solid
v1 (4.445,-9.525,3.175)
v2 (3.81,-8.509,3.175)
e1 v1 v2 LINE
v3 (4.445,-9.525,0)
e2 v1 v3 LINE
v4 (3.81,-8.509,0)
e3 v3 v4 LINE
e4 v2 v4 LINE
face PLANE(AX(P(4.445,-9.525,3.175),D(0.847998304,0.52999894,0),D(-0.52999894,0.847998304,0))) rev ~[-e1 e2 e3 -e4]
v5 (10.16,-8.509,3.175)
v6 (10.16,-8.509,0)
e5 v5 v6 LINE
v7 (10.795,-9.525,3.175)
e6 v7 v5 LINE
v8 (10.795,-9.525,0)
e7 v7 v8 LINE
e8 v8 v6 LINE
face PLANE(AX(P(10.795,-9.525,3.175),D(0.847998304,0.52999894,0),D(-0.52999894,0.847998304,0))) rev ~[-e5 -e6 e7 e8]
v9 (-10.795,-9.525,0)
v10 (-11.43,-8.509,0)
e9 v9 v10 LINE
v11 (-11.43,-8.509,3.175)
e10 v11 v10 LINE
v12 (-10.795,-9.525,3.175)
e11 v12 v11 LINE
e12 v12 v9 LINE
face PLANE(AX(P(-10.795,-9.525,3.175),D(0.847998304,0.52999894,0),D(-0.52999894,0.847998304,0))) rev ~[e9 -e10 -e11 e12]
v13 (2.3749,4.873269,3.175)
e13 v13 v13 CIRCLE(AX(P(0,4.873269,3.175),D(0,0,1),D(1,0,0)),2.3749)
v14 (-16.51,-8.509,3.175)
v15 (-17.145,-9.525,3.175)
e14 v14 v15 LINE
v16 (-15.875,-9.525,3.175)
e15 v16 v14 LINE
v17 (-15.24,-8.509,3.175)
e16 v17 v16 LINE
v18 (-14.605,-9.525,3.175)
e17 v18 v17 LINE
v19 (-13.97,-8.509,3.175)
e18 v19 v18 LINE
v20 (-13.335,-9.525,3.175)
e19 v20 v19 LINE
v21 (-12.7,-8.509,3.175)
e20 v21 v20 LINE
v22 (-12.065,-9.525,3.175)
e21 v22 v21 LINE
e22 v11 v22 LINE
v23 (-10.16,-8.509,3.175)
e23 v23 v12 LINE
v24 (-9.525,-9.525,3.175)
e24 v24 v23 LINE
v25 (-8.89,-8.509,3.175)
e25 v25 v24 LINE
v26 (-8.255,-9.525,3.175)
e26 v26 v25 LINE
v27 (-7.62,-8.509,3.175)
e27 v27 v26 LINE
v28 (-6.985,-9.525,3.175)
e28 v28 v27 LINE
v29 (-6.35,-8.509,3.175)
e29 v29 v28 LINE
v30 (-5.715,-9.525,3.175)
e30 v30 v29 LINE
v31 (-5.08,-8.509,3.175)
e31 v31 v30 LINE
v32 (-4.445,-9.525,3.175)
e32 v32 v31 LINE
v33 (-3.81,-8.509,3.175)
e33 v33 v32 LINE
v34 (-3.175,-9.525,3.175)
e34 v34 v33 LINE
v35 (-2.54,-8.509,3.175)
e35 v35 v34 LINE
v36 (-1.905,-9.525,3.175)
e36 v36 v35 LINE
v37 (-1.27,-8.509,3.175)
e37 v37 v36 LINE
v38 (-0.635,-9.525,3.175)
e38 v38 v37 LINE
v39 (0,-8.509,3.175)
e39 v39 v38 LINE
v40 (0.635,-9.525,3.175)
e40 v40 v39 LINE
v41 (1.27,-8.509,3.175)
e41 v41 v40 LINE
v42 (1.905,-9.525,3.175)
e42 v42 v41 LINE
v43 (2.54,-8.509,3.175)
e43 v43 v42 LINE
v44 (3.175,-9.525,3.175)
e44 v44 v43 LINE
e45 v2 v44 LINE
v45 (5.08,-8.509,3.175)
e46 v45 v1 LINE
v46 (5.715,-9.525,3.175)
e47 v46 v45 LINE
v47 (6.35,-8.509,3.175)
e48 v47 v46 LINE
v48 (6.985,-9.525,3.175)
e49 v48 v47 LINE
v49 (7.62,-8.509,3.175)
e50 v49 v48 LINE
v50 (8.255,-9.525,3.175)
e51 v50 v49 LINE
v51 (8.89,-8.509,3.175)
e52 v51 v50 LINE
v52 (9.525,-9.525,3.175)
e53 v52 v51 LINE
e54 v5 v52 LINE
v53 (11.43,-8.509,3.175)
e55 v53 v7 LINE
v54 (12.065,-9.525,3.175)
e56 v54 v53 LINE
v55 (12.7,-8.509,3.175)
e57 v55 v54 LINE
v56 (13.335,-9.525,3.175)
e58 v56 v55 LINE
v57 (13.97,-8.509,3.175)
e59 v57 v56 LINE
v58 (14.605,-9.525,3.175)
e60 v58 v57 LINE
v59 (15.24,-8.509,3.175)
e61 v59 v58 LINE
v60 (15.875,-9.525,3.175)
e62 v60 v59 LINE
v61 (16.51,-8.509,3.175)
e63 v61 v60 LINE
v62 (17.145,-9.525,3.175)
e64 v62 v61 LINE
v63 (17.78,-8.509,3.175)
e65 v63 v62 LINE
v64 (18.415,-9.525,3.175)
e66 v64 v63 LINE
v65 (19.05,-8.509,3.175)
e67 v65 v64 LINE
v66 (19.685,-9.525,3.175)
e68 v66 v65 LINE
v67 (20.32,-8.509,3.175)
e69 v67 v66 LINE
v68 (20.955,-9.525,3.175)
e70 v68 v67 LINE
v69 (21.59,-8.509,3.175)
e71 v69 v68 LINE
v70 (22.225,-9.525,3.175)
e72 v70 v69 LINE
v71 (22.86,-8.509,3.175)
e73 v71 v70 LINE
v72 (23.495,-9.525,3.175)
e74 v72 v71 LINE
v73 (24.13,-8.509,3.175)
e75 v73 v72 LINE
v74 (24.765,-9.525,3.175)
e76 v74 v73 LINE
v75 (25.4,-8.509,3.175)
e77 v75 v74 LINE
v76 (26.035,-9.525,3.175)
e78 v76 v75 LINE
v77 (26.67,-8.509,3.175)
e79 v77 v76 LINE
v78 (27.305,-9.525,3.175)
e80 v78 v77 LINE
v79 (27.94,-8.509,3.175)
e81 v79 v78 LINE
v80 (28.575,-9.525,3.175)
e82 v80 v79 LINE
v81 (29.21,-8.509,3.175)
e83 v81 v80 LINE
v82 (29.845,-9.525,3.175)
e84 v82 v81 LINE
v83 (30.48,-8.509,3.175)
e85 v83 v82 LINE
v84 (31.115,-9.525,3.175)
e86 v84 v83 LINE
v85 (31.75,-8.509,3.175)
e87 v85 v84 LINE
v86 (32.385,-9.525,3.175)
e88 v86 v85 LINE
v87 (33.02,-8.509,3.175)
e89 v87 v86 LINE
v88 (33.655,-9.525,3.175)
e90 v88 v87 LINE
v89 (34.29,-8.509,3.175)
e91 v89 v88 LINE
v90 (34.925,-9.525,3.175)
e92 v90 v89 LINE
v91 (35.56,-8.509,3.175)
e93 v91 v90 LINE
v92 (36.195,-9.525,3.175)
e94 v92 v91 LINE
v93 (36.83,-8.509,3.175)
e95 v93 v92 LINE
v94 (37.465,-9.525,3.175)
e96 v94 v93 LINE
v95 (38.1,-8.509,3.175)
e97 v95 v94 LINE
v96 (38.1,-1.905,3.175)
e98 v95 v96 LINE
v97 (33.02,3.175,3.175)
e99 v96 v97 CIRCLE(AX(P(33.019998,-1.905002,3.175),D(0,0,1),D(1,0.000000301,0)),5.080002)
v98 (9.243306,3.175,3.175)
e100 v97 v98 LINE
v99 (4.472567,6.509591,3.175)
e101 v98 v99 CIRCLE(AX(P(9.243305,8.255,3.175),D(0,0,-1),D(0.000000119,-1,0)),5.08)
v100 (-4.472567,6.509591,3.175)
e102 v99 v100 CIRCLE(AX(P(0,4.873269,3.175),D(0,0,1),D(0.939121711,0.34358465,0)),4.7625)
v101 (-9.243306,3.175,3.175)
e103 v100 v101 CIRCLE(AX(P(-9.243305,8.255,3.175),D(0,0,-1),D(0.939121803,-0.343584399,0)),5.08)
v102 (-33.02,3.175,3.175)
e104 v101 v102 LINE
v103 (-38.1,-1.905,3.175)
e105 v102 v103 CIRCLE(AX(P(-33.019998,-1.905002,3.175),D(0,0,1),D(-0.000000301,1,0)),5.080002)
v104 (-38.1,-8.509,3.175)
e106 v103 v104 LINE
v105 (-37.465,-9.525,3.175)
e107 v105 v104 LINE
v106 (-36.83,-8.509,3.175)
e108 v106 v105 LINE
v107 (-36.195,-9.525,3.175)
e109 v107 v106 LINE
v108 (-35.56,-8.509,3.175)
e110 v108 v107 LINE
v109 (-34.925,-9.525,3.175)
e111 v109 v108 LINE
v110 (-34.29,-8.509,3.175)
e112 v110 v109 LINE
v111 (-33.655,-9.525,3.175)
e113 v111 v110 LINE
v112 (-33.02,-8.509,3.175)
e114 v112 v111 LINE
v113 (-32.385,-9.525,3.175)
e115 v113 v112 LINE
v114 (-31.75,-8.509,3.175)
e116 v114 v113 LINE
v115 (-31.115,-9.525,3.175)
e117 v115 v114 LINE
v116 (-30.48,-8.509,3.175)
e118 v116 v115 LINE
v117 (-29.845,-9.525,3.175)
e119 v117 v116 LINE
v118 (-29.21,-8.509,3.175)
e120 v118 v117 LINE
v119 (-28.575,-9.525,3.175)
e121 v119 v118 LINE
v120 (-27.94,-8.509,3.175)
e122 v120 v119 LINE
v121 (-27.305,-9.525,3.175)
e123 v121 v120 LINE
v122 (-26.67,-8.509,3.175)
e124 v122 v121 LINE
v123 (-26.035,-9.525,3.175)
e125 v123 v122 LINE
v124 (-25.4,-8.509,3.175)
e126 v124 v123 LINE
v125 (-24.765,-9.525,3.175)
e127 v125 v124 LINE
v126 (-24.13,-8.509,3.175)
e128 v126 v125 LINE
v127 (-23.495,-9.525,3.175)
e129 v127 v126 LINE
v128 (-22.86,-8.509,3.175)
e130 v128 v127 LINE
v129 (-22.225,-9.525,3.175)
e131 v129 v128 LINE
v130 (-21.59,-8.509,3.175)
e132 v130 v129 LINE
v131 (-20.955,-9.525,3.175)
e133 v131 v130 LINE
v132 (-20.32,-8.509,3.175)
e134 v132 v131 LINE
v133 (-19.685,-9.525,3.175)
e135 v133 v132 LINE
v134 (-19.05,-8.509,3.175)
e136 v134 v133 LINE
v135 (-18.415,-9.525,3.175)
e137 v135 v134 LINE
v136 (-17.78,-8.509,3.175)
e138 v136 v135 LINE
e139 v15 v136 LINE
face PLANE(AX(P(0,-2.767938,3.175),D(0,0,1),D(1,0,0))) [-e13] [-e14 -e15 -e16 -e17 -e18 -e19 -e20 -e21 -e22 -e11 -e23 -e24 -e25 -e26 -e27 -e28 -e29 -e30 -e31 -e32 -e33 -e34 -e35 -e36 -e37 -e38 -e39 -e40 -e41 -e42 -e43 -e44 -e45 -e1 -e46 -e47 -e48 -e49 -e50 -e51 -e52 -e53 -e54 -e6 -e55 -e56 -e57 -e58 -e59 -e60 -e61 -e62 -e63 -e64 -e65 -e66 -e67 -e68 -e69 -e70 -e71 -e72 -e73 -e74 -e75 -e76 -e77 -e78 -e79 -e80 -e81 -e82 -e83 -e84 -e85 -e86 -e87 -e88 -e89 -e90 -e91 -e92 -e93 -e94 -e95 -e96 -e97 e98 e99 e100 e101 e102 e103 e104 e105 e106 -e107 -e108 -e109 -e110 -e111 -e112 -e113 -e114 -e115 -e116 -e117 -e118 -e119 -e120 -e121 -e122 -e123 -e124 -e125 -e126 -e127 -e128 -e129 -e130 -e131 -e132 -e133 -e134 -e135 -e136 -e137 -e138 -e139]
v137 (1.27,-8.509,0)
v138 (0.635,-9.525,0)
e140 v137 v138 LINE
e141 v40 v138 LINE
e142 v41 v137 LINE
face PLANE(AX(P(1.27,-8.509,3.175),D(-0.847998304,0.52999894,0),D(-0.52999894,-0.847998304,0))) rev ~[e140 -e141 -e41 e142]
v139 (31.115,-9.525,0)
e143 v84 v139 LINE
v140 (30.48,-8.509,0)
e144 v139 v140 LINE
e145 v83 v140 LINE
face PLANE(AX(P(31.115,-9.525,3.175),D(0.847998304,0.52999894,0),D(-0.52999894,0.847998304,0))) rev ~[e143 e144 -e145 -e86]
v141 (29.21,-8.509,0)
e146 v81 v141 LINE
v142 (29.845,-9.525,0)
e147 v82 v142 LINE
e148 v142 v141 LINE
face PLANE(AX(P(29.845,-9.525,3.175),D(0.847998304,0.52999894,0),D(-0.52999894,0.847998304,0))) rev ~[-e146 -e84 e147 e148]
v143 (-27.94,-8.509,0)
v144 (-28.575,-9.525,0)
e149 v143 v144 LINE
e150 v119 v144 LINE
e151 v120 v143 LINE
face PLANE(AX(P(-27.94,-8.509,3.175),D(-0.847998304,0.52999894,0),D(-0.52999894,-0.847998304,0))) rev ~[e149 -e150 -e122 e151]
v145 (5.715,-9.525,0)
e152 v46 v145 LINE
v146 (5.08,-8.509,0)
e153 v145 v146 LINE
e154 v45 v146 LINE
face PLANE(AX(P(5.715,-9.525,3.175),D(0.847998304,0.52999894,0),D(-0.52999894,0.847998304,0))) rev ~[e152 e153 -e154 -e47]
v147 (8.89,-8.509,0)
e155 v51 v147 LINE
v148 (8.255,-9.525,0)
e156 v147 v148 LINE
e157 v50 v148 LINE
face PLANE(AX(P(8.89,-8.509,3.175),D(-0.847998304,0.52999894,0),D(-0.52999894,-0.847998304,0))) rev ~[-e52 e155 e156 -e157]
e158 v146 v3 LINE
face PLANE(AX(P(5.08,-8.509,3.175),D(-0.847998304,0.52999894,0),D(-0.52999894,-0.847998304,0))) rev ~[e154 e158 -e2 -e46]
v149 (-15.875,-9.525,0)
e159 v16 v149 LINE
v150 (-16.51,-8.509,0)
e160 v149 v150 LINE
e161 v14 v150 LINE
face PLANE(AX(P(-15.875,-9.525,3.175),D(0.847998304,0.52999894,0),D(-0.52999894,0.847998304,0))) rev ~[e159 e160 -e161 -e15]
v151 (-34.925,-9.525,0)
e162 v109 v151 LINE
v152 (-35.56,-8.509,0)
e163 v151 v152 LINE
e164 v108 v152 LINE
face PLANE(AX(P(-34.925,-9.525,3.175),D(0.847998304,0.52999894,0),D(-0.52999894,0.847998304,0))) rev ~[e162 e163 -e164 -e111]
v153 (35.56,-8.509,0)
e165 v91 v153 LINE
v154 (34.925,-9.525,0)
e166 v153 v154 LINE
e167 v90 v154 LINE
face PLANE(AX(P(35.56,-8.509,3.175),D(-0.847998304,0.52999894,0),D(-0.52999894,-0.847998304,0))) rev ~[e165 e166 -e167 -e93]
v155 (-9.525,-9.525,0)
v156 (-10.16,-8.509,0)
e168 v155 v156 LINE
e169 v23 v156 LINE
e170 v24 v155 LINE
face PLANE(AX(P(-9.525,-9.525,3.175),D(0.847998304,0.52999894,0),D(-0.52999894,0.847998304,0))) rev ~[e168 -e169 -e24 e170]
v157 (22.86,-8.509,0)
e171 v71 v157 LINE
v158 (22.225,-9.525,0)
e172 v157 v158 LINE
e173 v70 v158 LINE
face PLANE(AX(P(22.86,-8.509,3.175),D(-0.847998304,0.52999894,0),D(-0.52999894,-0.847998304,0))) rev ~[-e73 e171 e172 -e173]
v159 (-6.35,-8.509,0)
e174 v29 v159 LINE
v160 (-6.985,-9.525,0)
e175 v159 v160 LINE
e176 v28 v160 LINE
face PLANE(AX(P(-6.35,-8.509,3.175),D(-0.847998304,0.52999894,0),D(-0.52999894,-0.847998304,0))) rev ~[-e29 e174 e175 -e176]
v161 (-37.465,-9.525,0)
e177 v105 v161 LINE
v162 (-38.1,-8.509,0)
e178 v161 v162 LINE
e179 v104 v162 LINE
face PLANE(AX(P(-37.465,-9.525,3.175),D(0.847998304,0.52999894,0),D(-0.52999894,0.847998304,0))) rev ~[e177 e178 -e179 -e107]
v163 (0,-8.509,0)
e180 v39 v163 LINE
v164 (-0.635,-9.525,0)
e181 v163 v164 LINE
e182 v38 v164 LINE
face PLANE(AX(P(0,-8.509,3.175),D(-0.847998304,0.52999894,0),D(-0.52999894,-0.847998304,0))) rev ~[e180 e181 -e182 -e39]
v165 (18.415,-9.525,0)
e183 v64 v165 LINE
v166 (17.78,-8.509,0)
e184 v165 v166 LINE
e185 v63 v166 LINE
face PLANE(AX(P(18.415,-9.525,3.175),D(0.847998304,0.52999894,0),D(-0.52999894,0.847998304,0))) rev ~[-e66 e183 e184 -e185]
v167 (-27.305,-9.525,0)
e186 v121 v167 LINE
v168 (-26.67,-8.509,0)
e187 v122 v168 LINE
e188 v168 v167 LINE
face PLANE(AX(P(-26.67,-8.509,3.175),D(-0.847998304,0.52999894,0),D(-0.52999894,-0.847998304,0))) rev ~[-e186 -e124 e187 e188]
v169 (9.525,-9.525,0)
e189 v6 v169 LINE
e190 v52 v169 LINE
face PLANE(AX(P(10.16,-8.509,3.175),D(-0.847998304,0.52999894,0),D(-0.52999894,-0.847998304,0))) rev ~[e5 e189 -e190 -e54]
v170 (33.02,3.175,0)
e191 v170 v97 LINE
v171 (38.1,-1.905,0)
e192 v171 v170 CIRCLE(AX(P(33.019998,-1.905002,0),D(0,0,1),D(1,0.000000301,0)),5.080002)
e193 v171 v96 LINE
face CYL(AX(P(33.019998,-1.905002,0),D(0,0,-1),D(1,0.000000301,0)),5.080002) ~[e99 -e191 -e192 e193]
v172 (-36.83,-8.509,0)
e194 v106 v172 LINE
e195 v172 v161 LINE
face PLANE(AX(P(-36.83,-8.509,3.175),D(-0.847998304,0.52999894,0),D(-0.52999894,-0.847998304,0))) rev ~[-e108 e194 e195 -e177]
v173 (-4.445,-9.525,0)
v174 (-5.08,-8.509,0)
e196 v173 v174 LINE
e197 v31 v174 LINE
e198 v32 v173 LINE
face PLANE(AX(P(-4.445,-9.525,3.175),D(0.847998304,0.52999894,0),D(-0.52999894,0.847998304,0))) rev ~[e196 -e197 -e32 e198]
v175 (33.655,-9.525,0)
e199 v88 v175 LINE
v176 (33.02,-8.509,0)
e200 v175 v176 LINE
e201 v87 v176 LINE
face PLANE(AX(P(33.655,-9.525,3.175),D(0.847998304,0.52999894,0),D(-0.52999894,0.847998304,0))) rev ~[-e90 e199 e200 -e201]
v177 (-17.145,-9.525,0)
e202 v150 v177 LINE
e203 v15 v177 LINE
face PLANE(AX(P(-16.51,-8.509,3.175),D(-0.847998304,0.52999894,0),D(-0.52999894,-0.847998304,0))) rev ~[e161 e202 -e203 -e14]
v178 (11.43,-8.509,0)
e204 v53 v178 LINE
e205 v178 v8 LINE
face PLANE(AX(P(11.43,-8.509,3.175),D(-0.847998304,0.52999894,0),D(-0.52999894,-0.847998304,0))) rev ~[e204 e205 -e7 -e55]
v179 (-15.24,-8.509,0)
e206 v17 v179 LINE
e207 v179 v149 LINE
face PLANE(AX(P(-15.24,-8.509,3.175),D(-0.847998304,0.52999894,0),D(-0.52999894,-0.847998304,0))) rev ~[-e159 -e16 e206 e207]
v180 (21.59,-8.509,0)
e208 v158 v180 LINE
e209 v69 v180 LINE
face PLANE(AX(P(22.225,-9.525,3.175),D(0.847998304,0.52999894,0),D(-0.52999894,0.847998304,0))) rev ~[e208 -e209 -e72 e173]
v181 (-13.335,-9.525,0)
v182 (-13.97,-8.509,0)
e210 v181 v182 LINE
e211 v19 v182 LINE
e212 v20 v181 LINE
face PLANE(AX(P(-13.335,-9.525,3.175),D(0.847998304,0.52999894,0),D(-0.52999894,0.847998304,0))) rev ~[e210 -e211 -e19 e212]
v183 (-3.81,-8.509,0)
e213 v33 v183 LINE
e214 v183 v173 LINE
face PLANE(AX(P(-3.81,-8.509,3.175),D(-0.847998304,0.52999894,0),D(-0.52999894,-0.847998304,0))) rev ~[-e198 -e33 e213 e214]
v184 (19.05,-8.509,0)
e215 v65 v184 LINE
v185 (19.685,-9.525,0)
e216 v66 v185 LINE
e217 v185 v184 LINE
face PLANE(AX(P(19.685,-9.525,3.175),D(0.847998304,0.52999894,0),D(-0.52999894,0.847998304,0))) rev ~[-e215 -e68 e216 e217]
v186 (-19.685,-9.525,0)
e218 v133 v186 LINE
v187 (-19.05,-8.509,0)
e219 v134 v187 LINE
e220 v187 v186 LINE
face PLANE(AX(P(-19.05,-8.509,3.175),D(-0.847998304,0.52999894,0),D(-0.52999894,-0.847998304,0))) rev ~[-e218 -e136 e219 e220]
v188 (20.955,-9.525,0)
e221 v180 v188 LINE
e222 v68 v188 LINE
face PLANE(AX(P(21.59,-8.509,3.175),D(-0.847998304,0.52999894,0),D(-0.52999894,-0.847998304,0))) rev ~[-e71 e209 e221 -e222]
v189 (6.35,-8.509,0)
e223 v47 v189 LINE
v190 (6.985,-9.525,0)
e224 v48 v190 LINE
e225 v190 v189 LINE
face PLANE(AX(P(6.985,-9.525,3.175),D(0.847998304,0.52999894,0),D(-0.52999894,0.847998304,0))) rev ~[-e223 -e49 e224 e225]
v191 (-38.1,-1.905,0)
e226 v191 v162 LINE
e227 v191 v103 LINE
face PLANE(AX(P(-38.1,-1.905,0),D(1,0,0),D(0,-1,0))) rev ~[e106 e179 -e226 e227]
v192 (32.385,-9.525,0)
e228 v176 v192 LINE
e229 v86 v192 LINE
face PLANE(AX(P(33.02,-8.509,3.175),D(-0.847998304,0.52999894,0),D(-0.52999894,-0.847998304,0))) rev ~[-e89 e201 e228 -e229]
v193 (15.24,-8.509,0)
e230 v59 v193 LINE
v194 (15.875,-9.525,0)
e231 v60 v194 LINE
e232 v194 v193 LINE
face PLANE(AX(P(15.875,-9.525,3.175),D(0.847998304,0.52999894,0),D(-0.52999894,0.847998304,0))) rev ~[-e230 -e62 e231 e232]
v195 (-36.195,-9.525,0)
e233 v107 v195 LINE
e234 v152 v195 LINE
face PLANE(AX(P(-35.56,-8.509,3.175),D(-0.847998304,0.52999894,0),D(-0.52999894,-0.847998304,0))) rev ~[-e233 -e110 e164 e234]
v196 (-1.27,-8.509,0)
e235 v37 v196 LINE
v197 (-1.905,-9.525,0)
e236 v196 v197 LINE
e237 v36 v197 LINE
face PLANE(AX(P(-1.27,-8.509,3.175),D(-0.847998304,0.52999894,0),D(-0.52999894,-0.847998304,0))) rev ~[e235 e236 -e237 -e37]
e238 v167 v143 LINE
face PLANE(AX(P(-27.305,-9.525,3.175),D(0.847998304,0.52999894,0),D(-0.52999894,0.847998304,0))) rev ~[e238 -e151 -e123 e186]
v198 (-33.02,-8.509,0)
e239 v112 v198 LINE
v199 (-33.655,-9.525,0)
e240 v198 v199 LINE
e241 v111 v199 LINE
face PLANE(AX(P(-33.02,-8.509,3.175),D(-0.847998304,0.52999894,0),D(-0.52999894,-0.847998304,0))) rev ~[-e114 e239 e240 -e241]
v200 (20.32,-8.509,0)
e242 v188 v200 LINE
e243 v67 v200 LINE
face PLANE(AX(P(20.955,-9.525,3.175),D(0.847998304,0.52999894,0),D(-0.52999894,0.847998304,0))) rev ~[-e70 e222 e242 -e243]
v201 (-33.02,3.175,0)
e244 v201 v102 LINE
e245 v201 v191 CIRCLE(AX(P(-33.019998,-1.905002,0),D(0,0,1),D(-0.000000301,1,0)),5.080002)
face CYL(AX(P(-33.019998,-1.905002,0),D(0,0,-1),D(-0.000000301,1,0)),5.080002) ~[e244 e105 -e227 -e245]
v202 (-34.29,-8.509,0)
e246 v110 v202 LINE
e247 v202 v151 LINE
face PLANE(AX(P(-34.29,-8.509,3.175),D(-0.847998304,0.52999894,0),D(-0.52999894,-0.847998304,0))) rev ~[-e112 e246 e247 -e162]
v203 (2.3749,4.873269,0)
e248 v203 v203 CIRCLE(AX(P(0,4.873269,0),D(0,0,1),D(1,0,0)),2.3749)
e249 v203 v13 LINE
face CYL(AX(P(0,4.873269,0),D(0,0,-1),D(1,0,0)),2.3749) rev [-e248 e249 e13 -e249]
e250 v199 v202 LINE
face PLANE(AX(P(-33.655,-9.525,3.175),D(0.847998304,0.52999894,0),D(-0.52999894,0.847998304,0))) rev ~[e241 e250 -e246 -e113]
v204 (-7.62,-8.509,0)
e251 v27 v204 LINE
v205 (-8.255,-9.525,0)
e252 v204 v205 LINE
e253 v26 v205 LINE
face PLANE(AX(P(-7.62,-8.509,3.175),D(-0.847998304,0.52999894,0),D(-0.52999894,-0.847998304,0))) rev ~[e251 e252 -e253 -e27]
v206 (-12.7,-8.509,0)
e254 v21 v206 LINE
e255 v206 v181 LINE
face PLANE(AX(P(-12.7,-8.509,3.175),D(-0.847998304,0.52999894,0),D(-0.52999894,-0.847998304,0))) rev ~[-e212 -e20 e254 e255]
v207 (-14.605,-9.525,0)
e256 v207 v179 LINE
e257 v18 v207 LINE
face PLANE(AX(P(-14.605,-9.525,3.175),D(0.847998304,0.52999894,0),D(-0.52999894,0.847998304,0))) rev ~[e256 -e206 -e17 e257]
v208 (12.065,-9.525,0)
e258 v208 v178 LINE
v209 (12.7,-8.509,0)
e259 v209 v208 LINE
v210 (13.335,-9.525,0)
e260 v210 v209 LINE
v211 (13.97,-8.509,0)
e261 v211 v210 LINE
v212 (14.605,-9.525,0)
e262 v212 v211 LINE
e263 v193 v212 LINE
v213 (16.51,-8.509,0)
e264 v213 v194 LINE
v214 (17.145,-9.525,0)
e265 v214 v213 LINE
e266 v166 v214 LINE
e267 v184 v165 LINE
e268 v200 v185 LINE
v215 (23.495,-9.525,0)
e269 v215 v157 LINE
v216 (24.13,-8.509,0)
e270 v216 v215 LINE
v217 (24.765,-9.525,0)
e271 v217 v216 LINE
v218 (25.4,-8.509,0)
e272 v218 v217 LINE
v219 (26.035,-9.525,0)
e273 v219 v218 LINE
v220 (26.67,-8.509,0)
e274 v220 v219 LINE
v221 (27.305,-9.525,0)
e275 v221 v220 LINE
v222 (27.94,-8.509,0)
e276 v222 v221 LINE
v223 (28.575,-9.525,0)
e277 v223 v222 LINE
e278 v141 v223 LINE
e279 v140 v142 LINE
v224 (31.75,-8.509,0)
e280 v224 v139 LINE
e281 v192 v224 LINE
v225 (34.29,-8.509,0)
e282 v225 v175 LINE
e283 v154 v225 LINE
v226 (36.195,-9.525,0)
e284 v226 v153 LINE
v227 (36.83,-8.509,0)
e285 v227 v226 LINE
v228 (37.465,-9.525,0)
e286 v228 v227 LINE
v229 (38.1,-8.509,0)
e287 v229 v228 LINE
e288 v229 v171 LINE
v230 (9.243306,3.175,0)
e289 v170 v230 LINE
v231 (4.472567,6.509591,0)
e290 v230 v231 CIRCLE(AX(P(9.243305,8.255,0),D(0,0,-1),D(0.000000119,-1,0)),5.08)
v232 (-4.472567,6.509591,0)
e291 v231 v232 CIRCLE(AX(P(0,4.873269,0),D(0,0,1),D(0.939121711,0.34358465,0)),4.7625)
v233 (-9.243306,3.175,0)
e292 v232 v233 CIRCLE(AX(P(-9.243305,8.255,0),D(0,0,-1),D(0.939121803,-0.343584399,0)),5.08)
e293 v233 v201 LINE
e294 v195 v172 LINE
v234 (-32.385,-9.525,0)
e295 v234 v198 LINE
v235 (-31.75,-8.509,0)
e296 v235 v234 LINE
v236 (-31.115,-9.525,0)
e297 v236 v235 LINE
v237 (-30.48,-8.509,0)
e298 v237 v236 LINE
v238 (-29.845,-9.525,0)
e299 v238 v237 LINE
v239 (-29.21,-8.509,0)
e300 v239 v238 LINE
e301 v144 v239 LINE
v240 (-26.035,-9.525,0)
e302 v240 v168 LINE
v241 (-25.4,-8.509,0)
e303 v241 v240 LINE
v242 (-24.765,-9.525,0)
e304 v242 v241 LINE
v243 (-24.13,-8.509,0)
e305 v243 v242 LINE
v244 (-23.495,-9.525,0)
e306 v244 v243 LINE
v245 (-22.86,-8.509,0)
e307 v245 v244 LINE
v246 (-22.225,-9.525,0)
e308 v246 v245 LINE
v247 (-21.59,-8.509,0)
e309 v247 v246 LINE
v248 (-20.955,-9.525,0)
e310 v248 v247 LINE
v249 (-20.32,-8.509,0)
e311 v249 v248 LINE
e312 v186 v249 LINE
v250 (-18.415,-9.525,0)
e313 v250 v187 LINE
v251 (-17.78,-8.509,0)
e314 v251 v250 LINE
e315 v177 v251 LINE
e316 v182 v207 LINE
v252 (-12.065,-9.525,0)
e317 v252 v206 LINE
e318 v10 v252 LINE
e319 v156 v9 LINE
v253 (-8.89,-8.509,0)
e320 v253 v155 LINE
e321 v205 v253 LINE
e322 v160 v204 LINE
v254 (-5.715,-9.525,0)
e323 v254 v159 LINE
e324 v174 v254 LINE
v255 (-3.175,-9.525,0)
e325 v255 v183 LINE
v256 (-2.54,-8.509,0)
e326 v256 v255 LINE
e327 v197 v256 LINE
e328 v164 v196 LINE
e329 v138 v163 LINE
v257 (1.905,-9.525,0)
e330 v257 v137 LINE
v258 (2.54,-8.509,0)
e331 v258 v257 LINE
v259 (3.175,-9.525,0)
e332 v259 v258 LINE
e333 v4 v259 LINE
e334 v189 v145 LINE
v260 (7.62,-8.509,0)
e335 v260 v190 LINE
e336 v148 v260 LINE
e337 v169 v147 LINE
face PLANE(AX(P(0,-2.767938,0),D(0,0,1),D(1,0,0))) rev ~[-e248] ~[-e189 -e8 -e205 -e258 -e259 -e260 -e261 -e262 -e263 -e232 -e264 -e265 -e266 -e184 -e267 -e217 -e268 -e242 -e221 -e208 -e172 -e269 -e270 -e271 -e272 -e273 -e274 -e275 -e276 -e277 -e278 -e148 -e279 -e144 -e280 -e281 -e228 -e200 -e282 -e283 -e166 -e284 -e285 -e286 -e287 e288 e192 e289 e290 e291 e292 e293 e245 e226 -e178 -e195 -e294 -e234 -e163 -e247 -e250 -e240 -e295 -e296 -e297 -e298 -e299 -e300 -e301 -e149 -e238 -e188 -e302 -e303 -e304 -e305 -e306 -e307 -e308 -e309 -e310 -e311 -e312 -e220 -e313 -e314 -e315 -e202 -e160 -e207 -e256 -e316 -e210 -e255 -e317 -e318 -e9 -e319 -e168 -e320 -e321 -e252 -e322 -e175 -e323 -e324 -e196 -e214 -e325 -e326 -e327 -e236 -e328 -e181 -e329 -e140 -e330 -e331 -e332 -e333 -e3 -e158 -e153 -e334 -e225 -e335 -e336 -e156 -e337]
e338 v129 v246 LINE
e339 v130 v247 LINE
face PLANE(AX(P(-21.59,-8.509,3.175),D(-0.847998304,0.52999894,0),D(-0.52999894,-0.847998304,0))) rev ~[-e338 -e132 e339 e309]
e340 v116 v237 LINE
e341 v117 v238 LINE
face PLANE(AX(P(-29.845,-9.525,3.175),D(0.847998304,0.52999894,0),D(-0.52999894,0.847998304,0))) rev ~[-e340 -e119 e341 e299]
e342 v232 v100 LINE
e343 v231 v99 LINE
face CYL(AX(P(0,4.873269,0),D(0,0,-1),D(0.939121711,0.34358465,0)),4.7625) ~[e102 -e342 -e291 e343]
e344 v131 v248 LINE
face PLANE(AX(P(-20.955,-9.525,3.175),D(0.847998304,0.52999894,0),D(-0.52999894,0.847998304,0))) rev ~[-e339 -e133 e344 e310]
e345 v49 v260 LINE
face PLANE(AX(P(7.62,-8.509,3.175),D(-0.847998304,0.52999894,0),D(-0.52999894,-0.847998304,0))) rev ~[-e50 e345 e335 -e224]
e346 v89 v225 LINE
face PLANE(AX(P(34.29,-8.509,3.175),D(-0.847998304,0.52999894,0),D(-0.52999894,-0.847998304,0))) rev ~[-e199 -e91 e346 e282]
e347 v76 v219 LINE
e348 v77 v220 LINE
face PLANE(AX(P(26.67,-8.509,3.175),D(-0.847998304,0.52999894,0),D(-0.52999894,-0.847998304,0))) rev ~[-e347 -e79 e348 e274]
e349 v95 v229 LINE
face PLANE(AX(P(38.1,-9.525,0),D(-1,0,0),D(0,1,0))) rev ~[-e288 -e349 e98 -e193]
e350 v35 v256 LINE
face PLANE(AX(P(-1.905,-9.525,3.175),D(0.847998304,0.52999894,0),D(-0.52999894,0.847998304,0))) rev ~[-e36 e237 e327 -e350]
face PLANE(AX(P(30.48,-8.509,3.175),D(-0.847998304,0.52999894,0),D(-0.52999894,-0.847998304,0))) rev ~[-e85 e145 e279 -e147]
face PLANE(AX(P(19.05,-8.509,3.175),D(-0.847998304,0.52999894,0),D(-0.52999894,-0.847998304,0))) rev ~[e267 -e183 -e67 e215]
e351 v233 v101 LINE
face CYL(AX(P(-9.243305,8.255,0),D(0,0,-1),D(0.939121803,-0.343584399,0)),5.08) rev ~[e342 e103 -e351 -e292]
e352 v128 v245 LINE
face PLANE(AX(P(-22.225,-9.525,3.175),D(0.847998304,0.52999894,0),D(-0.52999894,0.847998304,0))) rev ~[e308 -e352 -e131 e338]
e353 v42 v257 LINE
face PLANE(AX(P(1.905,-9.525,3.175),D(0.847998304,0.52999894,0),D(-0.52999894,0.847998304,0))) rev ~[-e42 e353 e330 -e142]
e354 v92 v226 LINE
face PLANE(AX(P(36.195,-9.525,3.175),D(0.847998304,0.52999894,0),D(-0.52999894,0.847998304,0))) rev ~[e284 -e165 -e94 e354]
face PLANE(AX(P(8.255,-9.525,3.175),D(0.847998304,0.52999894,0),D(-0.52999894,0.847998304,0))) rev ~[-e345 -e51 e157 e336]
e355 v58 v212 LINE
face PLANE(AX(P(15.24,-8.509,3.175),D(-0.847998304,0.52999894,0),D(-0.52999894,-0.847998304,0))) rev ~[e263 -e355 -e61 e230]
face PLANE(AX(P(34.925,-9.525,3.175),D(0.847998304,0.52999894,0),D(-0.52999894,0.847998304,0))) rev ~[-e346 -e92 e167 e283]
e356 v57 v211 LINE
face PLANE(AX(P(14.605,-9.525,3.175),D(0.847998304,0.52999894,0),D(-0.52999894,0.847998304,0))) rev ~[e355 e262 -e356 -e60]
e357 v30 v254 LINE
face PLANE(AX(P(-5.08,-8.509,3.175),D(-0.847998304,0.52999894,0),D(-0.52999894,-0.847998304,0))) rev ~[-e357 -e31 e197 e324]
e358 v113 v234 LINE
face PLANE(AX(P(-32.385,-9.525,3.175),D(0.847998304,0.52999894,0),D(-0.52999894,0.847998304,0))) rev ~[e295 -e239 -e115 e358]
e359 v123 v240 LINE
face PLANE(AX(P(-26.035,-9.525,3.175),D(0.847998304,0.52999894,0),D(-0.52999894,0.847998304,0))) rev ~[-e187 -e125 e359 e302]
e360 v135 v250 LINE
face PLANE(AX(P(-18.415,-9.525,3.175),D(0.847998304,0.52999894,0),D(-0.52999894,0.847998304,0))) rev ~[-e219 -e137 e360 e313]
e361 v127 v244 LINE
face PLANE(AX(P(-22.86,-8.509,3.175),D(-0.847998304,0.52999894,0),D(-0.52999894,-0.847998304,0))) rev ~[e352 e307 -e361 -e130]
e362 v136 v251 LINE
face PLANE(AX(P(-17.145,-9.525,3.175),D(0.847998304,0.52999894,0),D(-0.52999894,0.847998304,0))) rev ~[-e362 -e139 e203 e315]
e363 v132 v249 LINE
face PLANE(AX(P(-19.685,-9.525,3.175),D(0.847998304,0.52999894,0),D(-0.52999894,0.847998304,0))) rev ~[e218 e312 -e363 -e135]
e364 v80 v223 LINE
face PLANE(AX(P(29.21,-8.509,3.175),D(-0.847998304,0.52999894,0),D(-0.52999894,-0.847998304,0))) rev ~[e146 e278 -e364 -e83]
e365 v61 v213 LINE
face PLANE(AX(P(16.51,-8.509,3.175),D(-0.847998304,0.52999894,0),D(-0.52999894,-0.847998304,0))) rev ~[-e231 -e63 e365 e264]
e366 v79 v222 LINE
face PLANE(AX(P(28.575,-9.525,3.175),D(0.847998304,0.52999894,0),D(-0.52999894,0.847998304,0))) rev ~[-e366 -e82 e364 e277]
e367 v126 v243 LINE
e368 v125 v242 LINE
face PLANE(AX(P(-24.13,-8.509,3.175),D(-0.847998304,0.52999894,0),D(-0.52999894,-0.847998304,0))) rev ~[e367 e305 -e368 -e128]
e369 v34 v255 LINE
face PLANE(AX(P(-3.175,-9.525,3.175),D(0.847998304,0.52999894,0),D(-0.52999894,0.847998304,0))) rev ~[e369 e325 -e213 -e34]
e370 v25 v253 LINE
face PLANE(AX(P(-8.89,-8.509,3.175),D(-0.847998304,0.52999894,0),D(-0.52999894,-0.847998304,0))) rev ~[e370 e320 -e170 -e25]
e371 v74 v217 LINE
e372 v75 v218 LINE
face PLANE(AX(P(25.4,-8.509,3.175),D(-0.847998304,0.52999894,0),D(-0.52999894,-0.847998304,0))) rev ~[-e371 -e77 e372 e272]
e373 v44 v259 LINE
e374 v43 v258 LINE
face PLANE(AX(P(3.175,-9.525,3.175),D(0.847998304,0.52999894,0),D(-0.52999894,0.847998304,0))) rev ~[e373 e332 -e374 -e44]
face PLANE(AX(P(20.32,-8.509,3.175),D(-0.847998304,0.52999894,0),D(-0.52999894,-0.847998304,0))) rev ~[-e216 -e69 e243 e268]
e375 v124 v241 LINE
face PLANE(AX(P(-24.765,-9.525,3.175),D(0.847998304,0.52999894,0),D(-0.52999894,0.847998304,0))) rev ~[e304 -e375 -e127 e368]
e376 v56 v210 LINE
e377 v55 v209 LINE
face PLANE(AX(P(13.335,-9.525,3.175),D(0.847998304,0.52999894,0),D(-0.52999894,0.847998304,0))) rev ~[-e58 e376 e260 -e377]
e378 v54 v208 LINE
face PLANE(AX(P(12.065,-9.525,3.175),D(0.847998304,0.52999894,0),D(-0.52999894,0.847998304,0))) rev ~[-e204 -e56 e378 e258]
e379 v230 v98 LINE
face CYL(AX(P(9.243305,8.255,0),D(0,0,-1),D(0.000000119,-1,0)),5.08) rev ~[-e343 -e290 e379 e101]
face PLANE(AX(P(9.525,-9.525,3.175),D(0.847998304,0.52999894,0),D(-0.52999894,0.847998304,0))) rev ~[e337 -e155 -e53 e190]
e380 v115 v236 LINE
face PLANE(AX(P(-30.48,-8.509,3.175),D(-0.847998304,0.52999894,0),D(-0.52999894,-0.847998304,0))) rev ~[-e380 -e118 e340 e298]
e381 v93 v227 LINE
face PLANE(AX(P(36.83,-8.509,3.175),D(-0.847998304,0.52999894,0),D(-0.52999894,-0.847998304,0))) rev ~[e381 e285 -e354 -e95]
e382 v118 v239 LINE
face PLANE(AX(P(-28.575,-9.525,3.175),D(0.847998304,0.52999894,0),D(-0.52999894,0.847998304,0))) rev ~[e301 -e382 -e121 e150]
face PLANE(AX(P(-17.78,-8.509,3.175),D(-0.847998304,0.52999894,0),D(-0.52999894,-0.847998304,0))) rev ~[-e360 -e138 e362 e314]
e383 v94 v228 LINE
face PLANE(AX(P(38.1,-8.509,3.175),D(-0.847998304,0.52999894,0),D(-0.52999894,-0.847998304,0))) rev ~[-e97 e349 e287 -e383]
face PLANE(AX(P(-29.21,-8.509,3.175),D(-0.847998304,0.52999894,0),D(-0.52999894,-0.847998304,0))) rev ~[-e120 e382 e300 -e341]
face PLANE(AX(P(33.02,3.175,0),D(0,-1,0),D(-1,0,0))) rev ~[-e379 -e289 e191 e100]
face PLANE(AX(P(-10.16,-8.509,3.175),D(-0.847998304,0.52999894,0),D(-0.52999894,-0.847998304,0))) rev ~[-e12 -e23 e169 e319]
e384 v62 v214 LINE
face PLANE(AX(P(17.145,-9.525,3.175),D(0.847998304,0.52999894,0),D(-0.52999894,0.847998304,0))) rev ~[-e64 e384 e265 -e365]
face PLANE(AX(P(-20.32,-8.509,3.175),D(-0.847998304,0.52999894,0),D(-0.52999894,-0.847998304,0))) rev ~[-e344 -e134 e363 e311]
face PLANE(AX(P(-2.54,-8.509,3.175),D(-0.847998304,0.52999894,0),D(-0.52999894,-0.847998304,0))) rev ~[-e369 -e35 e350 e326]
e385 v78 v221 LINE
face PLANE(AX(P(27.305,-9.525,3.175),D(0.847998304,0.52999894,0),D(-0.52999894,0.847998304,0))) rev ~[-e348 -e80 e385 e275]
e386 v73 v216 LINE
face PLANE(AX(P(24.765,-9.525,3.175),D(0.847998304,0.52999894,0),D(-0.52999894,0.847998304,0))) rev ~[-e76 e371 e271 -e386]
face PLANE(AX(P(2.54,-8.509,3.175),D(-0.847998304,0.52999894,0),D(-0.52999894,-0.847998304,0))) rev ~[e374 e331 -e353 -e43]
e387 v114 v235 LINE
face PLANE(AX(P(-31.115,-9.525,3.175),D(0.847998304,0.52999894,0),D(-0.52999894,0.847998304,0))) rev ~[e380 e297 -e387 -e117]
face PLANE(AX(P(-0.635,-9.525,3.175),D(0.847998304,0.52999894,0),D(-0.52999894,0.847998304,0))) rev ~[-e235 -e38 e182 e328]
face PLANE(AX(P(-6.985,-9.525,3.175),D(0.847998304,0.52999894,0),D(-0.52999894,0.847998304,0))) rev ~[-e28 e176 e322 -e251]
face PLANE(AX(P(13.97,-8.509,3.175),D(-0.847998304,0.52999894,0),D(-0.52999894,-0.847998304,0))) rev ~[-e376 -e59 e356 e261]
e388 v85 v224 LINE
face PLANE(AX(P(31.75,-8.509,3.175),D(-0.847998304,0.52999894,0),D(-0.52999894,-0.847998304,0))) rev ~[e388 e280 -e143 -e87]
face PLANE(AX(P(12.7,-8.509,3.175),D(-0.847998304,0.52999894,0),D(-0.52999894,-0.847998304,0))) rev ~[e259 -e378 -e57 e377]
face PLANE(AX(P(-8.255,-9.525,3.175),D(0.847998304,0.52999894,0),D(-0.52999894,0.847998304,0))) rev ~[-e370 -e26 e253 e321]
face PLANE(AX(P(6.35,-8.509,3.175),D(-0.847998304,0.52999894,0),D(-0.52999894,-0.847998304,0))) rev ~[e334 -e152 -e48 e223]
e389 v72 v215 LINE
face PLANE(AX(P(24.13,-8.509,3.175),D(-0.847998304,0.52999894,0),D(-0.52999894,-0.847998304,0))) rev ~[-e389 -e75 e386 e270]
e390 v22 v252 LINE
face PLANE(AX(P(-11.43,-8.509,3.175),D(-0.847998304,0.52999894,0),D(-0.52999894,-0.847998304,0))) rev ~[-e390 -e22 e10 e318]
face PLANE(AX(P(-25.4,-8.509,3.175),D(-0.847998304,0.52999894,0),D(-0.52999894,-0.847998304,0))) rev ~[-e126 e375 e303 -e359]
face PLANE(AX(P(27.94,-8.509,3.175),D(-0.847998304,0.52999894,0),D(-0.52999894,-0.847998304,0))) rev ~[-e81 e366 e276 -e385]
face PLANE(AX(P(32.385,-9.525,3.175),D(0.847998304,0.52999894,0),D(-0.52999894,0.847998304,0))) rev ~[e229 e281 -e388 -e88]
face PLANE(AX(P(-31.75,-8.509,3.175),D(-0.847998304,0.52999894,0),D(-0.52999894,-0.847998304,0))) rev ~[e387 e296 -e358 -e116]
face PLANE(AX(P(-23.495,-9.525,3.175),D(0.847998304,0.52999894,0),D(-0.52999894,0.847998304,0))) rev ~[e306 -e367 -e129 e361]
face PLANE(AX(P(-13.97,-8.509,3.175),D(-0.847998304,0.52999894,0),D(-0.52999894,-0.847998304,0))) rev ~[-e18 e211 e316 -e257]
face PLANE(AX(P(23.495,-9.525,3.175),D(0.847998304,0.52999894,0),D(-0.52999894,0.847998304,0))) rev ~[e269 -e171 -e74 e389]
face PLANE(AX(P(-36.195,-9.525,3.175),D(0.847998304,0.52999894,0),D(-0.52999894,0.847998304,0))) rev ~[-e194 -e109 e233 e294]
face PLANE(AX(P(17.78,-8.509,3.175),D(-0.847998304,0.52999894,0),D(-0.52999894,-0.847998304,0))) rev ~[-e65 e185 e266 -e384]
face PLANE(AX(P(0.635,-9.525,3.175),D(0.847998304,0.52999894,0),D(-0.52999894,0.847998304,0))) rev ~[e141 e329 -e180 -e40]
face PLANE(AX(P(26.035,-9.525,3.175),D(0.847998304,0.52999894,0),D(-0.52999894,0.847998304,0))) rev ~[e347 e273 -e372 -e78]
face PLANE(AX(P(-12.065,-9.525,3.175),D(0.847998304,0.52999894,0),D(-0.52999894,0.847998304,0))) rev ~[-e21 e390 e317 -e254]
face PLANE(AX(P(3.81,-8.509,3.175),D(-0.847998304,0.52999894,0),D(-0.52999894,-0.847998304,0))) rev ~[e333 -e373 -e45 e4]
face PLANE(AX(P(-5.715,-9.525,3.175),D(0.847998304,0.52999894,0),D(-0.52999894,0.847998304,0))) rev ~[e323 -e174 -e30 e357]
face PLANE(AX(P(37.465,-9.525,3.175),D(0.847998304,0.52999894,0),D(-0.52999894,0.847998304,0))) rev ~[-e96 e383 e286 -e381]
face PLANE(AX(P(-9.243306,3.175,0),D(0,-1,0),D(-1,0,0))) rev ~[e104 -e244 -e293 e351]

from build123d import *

# Parameters (mm, degrees)
F0_R     = 2.3749
F1_DEPTH = 3.175
F3_DEPTH = 25.4


with BuildPart() as f1:
    # F0 (on Top) → F1 (new body)
    with BuildSketch(Plane.XY):
        with BuildLine():
            Line((-38.1, -9.525), (38.1, -9.525))
            Line((38.1, -9.525), (38.1, -1.905))
            ThreePointArc((38.1, -1.905), (36.612102, 1.687102), (33.02, 3.175))
            Line((33.02, 3.175), (9.243306, 3.175))
            ThreePointArc((9.243306, 3.175), (6.333003, 4.091283), (4.472567, 6.509591))
            ThreePointArc((4.472567, 6.509591), (0, 9.635769), (-4.472567, 6.509591))
            ThreePointArc((-4.472567, 6.509591), (-6.333003, 4.091283), (-9.243306, 3.175))
            Line((-9.243306, 3.175), (-33.02, 3.175))
            ThreePointArc((-33.02, 3.175), (-36.612102, 1.687102), (-38.1, -1.905))
            Line((-38.1, -1.905), (-38.1, -9.525))
        make_face()
        with Locations((0, 4.873269)):
            Circle(F0_R, mode=Mode.SUBTRACT)
    extrude(amount=F1_DEPTH)

    # F2 (on face) → F3 (cut)
    with BuildSketch(Plane.XY.offset(3.175)):
        Polygon((-37.465, -9.525), (-38.1, -8.509), (-38.1, -14.148636), (38.1, -14.148636), (38.1, -8.509), (37.465, -9.525), (36.83, -8.509), (36.195, -9.525), (35.56, -8.509), (34.925, -9.525), (34.29, -8.509), (33.655, -9.525), (33.02, -8.509), (32.385, -9.525), (31.75, -8.509), (31.115, -9.525), (30.48, -8.509), (29.845, -9.525), (29.21, -8.509), (28.575, -9.525), (27.94, -8.509), (27.305, -9.525), (26.67, -8.509), (26.035, -9.525), (25.4, -8.509), (24.765, -9.525), (24.13, -8.509), (23.495, -9.525), (22.86, -8.509), (22.225, -9.525), (21.59, -8.509), (20.955, -9.525), (20.32, -8.509), (19.685, -9.525), (19.05, -8.509), (18.415, -9.525), (17.78, -8.509), (17.145, -9.525), (16.51, -8.509), (15.875, -9.525), (15.24, -8.509), (14.605, -9.525), (13.97, -8.509), (13.335, -9.525), (12.7, -8.509), (12.065, -9.525), (11.43, -8.509), (10.795, -9.525), (10.16, -8.509), (9.525, -9.525), (8.89, -8.509), (8.255, -9.525), (7.62, -8.509), (6.985, -9.525), (6.35, -8.509), (5.715, -9.525), (5.08, -8.509), (4.445, -9.525), (3.81, -8.509), (3.175, -9.525), (2.54, -8.509), (1.905, -9.525), (1.27, -8.509), (0.635, -9.525), (0, -8.509), (-0.635, -9.525), (-1.27, -8.509), (-1.905, -9.525), (-2.54, -8.509), (-3.175, -9.525), (-3.81, -8.509), (-4.445, -9.525), (-5.08, -8.509), (-5.715, -9.525), (-6.35, -8.509), (-6.985, -9.525), (-7.62, -8.509), (-8.255, -9.525), (-8.89, -8.509), (-9.525, -9.525), (-10.16, -8.509), (-10.795, -9.525), (-11.43, -8.509), (-12.065, -9.525), (-12.7, -8.509), (-13.335, -9.525), (-13.97, -8.509), (-14.605, -9.525), (-15.24, -8.509), (-15.875, -9.525), (-16.51, -8.509), (-17.145, -9.525), (-17.78, -8.509), (-18.415, -9.525), (-19.05, -8.509), (-19.685, -9.525), (-20.32, -8.509), (-20.955, -9.525), (-21.59, -8.509), (-22.225, -9.525), (-22.86, -8.509), (-23.495, -9.525), (-24.13, -8.509), (-24.765, -9.525), (-25.4, -8.509), (-26.035, -9.525), (-26.67, -8.509), (-27.305, -9.525), (-27.94, -8.509), (-28.575, -9.525), (-29.21, -8.509), (-29.845, -9.525), (-30.48, -8.509), (-31.115, -9.525), (-31.75, -8.509), (-32.385, -9.525), (-33.02, -8.509), (-33.655, -9.525), (-34.29, -8.509), (-34.925, -9.525), (-35.56, -8.509), (-36.195, -9.525), (-36.83, -8.509), align=None)
    extrude(amount=-F3_DEPTH, mode=Mode.SUBTRACT)


solid = f1.part
